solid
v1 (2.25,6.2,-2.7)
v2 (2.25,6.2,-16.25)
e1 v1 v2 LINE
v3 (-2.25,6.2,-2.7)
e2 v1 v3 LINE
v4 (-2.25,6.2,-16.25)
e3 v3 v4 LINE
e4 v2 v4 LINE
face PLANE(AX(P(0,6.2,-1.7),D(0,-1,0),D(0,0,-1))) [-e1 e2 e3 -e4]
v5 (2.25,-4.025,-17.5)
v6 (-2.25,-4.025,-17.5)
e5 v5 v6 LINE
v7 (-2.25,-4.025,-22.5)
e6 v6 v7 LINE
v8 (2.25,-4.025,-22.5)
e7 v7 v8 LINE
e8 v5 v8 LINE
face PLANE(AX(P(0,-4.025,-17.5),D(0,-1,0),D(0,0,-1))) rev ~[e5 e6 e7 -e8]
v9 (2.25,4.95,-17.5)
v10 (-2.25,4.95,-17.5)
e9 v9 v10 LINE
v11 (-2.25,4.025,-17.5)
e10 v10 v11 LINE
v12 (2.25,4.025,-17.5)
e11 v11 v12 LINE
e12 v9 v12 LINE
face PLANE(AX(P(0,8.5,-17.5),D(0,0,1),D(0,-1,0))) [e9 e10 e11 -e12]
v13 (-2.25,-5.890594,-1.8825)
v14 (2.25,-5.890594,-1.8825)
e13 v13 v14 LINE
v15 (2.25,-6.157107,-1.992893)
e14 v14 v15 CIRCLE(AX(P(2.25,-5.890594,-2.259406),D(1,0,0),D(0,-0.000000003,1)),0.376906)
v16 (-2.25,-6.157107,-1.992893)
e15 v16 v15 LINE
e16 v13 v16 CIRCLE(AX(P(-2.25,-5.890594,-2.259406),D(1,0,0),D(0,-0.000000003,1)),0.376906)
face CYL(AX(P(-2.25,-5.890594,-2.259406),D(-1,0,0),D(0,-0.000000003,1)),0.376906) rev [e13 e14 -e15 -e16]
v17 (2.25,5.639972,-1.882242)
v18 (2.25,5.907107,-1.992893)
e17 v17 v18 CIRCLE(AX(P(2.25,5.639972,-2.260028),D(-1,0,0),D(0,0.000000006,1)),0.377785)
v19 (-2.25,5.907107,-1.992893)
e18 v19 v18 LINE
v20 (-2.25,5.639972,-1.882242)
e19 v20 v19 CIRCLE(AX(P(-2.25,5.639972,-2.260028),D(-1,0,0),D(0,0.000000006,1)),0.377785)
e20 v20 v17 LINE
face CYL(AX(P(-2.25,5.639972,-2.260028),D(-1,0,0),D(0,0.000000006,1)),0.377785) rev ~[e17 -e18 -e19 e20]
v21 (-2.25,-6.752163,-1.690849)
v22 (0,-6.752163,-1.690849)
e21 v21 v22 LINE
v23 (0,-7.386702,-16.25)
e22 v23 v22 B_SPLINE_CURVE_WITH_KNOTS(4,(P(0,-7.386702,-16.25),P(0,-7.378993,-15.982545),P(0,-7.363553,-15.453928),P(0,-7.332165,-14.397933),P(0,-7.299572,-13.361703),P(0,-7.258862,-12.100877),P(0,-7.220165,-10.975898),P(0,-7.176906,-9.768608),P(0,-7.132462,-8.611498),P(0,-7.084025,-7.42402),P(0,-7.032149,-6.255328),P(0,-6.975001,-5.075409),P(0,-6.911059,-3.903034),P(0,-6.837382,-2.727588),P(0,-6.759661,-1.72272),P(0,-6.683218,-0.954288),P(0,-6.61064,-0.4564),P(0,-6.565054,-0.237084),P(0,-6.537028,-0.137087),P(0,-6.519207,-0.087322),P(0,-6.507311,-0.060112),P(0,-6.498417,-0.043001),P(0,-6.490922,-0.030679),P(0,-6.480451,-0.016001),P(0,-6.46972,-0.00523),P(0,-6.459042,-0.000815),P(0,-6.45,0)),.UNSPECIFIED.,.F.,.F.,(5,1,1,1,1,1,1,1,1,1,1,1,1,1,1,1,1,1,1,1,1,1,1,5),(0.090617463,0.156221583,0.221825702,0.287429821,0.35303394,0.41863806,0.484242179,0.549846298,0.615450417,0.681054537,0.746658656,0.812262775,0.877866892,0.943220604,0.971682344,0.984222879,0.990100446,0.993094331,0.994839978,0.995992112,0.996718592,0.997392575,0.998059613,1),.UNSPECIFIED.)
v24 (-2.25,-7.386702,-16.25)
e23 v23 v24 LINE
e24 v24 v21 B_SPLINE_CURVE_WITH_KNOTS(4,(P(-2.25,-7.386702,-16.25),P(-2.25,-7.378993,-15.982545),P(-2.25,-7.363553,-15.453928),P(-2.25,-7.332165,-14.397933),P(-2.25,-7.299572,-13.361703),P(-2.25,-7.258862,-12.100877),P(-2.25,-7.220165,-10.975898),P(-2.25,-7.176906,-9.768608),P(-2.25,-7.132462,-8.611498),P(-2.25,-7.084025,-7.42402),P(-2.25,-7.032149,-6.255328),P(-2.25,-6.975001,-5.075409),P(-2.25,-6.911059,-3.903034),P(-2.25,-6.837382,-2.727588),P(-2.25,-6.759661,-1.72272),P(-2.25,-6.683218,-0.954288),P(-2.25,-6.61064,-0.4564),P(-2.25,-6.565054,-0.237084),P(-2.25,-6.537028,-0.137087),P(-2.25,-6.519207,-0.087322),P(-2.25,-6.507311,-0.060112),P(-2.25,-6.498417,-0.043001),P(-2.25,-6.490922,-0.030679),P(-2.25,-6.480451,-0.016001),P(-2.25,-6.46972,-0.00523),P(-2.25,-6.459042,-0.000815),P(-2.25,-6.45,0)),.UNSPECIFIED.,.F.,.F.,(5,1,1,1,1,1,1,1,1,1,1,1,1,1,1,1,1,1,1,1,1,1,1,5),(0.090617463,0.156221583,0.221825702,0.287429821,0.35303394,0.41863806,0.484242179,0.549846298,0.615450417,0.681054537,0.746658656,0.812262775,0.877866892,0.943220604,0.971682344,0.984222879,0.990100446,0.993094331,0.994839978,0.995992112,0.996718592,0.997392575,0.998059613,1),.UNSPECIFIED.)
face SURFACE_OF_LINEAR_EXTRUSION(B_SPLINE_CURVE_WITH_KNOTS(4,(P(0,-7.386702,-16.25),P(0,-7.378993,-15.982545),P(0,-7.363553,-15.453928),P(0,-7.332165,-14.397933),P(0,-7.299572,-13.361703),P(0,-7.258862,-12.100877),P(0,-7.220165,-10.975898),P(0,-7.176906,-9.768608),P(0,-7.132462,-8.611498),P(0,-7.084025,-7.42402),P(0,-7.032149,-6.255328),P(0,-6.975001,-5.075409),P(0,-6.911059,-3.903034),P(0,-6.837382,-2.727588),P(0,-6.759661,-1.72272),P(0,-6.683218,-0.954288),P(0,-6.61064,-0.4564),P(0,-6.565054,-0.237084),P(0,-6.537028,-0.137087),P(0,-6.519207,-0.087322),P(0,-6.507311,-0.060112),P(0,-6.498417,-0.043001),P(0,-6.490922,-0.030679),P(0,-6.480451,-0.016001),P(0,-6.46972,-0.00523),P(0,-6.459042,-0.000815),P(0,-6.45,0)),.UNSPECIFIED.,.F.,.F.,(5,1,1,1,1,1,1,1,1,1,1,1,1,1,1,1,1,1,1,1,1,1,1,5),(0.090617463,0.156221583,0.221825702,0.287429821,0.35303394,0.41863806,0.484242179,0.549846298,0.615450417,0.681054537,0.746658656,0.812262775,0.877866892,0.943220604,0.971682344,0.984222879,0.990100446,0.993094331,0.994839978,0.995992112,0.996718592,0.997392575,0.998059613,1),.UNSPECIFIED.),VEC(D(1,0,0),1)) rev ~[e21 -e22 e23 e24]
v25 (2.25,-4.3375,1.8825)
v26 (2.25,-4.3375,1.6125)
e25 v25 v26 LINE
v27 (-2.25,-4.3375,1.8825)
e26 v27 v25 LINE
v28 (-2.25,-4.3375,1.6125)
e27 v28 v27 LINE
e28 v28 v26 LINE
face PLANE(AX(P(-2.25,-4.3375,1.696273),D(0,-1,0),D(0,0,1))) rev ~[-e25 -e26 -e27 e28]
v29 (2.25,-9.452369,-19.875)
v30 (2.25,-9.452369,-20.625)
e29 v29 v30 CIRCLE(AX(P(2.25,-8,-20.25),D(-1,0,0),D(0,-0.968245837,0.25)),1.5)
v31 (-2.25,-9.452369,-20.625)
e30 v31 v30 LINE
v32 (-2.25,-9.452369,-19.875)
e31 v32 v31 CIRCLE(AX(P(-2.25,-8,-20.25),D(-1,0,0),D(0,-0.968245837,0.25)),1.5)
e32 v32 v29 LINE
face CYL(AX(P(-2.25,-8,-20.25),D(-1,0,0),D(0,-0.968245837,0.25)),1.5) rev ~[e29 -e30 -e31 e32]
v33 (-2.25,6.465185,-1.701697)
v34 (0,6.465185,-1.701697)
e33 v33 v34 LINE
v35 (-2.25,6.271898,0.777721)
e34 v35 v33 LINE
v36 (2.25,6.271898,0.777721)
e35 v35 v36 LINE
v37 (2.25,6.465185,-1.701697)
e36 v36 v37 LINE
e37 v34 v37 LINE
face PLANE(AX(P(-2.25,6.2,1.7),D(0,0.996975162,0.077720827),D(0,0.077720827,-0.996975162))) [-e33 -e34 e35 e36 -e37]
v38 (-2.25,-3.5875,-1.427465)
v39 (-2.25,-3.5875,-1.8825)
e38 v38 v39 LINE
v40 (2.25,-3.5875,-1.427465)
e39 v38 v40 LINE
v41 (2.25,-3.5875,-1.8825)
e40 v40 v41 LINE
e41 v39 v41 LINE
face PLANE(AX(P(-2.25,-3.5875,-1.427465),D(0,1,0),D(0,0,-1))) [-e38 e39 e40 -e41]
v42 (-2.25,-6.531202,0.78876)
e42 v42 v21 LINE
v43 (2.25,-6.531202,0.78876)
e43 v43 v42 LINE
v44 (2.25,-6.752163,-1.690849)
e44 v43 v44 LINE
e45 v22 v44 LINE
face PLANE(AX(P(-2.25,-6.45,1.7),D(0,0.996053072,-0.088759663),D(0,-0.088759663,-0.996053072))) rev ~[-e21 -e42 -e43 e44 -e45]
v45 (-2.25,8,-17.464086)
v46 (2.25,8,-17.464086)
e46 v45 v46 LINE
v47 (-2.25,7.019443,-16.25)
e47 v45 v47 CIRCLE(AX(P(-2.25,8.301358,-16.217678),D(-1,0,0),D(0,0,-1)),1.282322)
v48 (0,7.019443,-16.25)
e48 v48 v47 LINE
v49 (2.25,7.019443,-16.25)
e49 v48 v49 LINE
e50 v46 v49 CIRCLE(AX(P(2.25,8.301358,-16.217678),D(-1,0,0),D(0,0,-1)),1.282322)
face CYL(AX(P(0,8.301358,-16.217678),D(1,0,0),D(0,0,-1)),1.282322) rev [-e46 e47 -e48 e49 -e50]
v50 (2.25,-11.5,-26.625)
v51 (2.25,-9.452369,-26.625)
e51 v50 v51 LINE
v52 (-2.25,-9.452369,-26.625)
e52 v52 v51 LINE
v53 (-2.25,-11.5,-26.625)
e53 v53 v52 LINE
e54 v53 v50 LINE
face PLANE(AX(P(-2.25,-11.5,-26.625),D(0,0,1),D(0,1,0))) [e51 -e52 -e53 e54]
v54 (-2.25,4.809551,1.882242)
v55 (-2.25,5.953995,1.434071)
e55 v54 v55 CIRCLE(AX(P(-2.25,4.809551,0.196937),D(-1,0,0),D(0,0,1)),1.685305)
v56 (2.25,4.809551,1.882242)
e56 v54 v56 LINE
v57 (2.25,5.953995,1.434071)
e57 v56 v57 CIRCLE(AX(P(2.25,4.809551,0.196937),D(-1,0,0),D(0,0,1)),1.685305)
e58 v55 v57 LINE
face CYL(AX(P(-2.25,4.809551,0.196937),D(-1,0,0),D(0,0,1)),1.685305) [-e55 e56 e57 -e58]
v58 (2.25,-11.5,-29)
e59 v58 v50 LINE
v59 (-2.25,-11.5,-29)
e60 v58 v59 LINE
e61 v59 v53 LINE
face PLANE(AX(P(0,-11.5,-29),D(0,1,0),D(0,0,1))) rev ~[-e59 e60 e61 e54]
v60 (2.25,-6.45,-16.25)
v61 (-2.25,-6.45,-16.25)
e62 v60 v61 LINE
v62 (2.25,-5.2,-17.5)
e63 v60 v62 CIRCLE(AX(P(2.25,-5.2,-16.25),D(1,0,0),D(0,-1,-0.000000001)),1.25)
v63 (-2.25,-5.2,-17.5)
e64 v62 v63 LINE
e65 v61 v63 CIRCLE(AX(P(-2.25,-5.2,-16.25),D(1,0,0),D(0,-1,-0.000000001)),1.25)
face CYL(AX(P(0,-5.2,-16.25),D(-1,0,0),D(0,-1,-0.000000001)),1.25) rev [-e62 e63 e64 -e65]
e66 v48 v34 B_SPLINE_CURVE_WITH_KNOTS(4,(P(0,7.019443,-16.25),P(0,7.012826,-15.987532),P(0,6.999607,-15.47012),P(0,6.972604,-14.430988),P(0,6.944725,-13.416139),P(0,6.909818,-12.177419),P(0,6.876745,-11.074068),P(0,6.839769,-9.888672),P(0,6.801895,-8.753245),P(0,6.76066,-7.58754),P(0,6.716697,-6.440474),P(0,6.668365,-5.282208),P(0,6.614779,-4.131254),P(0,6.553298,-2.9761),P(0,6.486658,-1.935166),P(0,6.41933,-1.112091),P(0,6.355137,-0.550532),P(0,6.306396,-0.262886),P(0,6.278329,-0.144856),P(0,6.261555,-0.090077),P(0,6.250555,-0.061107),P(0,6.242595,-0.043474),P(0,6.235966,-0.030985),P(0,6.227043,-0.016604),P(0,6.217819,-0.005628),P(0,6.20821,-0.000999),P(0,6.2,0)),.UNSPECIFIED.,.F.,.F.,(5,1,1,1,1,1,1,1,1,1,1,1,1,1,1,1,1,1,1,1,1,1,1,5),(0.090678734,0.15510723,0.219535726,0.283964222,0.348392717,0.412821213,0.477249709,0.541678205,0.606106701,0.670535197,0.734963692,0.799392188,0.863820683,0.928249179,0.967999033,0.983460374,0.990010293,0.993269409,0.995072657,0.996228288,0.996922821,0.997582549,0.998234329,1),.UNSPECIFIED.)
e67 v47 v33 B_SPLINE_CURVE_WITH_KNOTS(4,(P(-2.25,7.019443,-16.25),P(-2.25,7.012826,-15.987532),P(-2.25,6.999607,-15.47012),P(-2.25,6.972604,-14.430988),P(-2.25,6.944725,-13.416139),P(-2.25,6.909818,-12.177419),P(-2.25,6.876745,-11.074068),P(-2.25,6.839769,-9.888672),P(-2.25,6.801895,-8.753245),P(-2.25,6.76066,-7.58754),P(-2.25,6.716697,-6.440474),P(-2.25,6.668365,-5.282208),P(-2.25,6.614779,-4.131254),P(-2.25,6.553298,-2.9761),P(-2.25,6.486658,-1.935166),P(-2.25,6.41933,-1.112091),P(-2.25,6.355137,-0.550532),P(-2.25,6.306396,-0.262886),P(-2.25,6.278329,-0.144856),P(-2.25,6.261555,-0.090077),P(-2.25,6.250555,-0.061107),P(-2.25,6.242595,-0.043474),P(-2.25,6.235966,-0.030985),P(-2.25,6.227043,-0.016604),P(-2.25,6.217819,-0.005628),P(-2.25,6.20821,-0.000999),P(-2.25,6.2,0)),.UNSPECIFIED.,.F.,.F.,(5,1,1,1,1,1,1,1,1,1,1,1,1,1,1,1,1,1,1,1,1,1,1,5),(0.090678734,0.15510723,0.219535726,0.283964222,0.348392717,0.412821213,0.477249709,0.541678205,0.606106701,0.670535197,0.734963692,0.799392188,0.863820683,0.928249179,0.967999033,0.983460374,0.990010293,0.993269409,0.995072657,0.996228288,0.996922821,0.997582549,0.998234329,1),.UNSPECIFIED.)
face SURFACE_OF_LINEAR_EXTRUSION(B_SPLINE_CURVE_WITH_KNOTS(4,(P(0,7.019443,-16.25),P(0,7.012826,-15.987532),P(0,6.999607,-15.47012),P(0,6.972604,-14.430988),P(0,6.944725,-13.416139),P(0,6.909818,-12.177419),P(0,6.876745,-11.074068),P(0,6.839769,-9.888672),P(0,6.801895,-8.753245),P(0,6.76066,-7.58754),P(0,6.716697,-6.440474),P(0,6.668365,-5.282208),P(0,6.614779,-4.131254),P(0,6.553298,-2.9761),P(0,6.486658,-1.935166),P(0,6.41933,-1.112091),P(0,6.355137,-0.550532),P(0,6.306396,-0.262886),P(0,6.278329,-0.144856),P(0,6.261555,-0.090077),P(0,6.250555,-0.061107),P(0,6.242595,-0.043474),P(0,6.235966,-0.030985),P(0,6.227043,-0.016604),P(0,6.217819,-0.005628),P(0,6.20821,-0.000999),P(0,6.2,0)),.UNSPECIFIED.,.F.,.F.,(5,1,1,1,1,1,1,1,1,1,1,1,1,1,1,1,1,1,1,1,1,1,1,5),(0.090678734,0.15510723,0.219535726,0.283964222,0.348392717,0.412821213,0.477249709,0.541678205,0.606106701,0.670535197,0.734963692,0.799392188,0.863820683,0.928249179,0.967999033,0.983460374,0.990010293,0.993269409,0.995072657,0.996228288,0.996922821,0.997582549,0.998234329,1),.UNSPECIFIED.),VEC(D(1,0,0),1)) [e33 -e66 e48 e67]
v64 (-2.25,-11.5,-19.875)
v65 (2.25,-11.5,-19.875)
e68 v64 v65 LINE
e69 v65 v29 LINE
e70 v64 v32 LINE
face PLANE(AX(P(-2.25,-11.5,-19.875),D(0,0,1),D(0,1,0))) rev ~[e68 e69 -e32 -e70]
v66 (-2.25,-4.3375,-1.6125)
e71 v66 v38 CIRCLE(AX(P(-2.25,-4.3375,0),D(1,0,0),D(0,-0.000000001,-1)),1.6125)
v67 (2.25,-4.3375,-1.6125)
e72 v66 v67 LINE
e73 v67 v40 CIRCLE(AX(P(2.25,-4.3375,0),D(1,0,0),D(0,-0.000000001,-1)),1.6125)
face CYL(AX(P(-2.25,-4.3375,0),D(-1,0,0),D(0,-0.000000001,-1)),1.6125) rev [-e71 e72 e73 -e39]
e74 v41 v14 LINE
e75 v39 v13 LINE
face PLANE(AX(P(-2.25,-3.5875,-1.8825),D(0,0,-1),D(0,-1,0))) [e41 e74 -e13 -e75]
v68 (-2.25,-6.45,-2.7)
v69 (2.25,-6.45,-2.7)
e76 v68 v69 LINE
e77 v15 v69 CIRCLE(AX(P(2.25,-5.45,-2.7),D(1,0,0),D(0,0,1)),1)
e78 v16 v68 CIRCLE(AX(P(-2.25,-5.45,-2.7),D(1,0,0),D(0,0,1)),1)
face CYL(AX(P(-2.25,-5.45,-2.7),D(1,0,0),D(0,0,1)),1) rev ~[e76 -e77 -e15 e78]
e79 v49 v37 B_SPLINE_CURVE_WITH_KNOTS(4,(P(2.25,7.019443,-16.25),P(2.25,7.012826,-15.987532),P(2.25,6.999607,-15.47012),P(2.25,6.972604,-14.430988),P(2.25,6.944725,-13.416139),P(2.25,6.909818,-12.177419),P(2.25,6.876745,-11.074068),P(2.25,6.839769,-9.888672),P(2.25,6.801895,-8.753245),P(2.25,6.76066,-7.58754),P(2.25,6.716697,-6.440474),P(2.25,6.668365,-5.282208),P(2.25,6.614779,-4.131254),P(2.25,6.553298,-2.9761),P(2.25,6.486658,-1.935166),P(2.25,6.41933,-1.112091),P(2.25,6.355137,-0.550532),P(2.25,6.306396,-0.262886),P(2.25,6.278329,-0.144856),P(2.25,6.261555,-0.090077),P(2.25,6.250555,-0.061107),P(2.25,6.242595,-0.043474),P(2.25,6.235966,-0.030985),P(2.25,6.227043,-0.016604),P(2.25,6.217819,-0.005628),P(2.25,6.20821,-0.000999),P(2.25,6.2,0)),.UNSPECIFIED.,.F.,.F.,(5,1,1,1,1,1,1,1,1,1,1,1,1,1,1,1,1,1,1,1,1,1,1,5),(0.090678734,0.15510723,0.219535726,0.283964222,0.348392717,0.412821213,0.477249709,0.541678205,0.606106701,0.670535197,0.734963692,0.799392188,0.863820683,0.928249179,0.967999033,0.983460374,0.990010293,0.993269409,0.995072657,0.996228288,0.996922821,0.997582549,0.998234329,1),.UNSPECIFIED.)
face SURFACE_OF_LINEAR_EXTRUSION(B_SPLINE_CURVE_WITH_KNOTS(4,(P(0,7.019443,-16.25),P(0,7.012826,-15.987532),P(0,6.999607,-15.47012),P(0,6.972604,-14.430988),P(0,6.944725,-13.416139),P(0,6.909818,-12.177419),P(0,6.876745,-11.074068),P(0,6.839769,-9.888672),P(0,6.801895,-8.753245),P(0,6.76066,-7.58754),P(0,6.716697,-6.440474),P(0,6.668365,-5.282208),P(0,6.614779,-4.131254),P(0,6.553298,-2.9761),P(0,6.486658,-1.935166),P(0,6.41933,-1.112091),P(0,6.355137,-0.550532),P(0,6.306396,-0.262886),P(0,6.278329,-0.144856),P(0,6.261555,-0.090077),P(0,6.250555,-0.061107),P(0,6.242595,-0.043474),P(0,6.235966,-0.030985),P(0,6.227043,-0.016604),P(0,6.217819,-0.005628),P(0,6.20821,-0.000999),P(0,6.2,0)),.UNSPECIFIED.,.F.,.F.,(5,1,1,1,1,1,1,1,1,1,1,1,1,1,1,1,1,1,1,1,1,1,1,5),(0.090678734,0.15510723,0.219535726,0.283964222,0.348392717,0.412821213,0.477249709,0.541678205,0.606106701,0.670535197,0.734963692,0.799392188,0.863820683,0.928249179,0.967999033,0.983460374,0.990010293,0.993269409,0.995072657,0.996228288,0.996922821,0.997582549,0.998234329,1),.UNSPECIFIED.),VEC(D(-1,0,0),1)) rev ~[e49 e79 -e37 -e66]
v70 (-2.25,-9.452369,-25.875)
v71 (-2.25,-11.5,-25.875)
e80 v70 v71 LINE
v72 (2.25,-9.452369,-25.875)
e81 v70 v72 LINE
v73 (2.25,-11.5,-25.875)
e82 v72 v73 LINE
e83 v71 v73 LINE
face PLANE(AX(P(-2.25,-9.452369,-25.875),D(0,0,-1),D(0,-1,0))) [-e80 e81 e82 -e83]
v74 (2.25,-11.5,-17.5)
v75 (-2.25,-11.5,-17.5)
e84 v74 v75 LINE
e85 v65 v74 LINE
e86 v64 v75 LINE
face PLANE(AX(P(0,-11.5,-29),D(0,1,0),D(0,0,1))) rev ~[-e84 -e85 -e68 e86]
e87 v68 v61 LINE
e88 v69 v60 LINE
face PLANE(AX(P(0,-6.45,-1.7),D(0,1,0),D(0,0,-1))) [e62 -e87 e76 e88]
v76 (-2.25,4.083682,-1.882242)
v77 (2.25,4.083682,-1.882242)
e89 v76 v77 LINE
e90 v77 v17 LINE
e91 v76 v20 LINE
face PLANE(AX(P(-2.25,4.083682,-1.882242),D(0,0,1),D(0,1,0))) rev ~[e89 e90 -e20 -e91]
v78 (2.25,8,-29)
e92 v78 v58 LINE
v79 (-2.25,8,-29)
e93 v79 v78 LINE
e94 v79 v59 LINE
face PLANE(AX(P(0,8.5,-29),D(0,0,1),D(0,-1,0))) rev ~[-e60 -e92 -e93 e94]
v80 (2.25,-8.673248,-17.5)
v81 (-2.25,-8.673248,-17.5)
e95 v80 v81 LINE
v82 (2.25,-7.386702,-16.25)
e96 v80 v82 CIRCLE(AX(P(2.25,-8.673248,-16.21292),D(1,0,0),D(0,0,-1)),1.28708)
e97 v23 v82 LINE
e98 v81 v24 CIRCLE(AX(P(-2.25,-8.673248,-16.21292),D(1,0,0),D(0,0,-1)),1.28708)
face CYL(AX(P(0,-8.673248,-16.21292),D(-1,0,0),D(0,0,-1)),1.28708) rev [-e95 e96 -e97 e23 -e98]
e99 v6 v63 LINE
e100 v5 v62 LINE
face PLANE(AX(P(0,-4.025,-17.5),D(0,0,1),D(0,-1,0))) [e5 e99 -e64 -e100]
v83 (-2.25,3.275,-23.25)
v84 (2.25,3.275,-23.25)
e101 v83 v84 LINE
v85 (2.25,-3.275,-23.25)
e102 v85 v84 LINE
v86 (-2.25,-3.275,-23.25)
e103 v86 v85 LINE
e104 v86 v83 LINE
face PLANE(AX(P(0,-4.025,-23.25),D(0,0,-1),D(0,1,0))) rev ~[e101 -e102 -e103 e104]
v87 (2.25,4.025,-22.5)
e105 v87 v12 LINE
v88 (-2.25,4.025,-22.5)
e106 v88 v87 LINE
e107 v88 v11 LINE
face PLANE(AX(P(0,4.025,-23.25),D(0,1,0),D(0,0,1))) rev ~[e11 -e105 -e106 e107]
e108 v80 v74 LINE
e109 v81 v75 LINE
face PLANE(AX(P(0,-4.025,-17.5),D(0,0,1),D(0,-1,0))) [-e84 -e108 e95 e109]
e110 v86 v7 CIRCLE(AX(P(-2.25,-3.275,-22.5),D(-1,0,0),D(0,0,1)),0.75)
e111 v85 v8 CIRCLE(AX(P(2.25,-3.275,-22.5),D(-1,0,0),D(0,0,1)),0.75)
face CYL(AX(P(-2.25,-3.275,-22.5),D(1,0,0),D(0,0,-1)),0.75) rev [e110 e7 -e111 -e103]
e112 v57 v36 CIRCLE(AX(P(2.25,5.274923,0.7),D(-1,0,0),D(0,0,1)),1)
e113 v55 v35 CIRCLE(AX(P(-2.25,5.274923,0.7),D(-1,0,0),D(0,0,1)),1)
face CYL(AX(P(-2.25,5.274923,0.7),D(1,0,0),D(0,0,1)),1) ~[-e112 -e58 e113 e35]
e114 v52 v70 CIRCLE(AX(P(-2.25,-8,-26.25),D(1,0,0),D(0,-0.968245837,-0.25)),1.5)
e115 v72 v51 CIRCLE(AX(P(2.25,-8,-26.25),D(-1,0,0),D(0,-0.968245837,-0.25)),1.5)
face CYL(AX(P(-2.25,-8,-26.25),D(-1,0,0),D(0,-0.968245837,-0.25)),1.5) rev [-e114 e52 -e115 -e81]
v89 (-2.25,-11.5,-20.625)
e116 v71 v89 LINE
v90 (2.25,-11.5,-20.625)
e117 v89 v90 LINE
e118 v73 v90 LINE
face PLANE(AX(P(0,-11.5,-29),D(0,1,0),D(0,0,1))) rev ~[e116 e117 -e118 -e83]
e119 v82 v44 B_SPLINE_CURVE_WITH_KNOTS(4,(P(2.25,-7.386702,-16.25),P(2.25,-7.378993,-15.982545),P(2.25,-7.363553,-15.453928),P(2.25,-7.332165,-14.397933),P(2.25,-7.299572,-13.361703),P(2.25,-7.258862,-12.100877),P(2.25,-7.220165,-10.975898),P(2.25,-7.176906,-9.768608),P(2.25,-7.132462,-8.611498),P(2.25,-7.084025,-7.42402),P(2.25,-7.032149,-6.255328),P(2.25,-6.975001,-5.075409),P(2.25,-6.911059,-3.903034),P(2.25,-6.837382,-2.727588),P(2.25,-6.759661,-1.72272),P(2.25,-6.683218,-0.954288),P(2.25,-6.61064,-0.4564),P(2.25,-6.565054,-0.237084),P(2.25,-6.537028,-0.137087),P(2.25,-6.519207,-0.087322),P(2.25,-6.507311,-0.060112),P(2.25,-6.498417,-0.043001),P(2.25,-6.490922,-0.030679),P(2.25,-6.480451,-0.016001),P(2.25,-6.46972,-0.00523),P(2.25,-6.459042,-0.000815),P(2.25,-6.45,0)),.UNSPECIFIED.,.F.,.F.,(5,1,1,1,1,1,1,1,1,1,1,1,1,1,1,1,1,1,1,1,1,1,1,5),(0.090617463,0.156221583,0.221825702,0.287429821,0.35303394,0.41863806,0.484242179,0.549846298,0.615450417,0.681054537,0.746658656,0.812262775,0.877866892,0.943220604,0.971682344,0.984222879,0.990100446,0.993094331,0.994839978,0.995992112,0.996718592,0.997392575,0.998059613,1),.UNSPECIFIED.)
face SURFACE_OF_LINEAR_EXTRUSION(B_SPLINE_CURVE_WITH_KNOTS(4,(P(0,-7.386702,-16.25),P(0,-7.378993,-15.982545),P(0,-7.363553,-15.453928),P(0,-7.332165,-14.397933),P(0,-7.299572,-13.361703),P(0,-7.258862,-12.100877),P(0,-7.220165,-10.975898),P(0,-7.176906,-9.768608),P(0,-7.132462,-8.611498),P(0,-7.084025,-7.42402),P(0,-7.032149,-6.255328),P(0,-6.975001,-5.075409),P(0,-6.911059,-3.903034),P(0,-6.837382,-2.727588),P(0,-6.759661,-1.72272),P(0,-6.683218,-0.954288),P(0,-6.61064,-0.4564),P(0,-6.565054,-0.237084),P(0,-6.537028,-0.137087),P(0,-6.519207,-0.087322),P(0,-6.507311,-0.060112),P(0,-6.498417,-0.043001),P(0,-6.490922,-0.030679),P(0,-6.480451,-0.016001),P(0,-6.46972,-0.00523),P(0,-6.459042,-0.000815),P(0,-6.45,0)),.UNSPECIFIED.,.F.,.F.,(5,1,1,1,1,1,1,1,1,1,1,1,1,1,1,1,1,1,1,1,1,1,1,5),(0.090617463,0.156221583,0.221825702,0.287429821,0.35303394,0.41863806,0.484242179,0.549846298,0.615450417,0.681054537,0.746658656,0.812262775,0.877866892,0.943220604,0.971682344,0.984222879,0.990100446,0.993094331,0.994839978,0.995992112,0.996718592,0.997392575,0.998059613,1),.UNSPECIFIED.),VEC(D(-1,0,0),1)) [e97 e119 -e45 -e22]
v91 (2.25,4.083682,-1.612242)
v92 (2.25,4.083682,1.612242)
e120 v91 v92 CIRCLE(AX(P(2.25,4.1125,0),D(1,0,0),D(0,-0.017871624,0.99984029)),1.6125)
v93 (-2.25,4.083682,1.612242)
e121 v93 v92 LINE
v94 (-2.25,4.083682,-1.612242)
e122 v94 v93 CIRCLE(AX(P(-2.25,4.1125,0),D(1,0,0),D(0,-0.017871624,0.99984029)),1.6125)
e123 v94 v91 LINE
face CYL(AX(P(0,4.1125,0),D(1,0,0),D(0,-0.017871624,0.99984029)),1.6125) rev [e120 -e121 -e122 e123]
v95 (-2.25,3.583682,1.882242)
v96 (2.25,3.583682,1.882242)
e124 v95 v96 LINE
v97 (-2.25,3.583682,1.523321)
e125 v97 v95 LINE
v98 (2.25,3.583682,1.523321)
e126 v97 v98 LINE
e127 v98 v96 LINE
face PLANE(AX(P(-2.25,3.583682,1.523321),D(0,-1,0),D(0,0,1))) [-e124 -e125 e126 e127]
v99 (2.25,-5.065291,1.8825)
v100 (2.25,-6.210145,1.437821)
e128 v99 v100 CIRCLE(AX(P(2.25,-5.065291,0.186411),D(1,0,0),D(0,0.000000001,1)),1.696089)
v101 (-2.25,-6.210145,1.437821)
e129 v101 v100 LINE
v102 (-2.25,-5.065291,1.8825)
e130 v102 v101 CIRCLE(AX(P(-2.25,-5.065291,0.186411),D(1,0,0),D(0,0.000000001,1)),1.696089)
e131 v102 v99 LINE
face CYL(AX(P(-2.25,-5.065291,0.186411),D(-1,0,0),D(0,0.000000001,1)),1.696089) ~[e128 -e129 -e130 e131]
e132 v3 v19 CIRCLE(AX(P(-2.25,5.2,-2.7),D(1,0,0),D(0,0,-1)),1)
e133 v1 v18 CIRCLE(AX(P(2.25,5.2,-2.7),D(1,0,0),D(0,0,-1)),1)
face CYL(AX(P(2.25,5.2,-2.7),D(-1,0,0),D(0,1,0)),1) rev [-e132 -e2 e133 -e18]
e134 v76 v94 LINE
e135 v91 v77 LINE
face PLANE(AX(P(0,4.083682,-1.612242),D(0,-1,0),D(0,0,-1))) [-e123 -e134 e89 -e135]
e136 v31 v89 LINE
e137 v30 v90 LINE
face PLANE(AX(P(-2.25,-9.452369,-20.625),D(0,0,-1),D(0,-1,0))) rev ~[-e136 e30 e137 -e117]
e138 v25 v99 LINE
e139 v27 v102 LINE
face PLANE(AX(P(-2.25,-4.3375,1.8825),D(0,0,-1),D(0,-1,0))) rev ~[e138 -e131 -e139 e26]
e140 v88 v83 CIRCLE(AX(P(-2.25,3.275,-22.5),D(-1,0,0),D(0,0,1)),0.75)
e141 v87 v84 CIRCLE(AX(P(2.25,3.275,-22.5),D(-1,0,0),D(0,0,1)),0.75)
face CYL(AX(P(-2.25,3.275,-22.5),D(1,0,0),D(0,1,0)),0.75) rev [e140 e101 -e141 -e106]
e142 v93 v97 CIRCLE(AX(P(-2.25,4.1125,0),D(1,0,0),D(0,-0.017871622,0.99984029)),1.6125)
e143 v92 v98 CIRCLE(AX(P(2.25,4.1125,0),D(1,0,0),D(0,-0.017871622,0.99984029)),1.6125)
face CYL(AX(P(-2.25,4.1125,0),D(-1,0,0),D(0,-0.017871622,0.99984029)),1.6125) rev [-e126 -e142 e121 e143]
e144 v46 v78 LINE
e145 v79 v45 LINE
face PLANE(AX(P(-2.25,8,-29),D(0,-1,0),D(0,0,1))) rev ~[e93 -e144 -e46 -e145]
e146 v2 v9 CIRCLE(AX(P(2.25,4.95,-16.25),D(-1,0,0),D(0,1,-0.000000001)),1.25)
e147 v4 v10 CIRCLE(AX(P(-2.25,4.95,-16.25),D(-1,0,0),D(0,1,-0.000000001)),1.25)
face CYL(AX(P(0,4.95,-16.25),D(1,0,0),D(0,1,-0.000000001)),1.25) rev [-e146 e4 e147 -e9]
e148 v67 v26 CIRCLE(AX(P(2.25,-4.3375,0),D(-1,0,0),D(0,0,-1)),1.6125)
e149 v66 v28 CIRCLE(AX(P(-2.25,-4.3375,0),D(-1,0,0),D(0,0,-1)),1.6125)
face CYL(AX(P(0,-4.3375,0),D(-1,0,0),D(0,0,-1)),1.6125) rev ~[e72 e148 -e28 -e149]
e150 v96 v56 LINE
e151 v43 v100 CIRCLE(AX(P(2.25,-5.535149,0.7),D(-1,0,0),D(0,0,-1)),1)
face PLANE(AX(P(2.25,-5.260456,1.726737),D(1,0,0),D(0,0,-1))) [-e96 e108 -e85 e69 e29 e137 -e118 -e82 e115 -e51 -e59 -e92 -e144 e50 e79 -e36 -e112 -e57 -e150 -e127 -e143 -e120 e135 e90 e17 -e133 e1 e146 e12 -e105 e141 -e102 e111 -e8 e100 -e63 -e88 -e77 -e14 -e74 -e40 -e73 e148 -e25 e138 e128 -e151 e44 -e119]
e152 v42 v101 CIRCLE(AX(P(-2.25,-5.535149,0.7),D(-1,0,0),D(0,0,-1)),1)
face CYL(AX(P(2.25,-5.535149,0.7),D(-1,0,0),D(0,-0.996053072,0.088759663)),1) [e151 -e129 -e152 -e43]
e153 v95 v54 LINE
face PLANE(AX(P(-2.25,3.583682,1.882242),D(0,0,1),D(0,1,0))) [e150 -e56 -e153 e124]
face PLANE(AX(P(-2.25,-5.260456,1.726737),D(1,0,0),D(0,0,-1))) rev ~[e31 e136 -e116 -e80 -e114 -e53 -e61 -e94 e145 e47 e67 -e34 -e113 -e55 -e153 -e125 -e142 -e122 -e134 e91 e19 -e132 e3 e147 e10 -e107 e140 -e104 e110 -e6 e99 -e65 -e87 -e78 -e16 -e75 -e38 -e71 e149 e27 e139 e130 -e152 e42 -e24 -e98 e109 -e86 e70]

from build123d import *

# Parameters (mm, degrees)
BOSS_EXTRUDE1_DEPTH = 2.25
CUT_EXTRUDE1_DEPTH  = 32.519835025
FILLET1_R           = 0.75
BOSS_EXTRUDE2_DEPTH = 2.25
BOSS_EXTRUDE4_DEPTH = 4.5
FILLET2_R           = 1
CUT_EXTRUDE4_DEPTH  = 5
BOSS_EXTRUDE5_START = -2.25
BOSS_EXTRUDE5_DEPTH = 4.5
SKETCH12_W          = 11.535913892
SKETCH12_H          = 0.5
CUT_EXTRUDE5_DEPTH  = 32.519835168


with BuildPart() as part:
    # Sketch1 → Boss-Extrude1 (new, symmetric)
    with BuildSketch(Plane(origin=(0, 0, 0), x_dir=(0, 0, -1), z_dir=(1, 0, 0))):
        Polygon((17.5, 4.025), (17.5, 4.95), (17.5, 8.301357795), (17.5, 8.5), (29, 8.5), (29, -11.5), (17.5, -11.5), (17.5, -8.673247977), (17.5, -5.2), (17.5, -4.025), (23.25, -4.025), (23.25, 4.025), align=None)
    extrude(amount=BOSS_EXTRUDE1_DEPTH, both=True)

    # Sketch4 → Cut-Extrude1 (cut, through all)
    with BuildSketch(Plane.ZY.offset(2.25)):
        with BuildLine():
            Line((-26.625, -11.5), (-26.625, -9.452368755))
            ThreePointArc((-26.625, -9.452368755), (-26.25, -6.5), (-25.875, -9.452368755))
            Line((-25.875, -9.452368755), (-25.875, -11.5))
            Line((-25.875, -11.5), (-26.625, -11.5))
        make_face()
        with BuildLine():
            Line((-20.625, -9.452368755), (-20.625, -11.5))
            Line((-20.625, -11.5), (-19.875, -11.5))
            Line((-19.875, -11.5), (-19.875, -9.452368755))
            ThreePointArc((-19.875, -9.452368755), (-20.25, -6.5), (-20.625, -9.452368755))
        make_face()
    extrude(amount=-CUT_EXTRUDE1_DEPTH, mode=Mode.SUBTRACT)

    # Fillet1
    fillet1_edges = [part.edges().sort_by_distance(p)[0] for p in [
        (0, -4.025, -23.25),
        (0, 4.025, -23.25),
    ]]
    fillet(fillet1_edges, radius=FILLET1_R)

    # Sketch2 → Boss-Extrude2 (add, symmetric)
    with BuildSketch(Plane(origin=(0, 0, 0), x_dir=(0, 0, -1), z_dir=(1, 0, 0))):
        with BuildLine():
            Line((1.7, -6.45), (16.25, -6.45))
            ThreePointArc((16.25, -6.45), (17.133883476, -6.083883476), (17.5, -5.2))
            Line((17.5, -5.2), (17.5, -8.673247977))
            ThreePointArc((17.5, -8.673247977), (17.136039688, -7.776350438), (16.25, -7.38670191))
            add(Edge.make_bspline(
                [(16.25, -7.38670191), (15.982544989, -7.378993429), (15.453928293, -7.363553213), (14.397933299, -7.332164796), (13.361703255, -7.29957206), (12.100876768, -7.258861503), (10.975898138, -7.220164867), (9.768608213, -7.176905715), (8.611498431, -7.132461764), (7.424019565, -7.084024767), (6.255327605, -7.032148986), (5.075409432, -6.975000615), (3.903033551, -6.911058587), (2.727587922, -6.837381628), (1.722719604, -6.759660724), (0.954287884, -6.683217964), (0.456400256, -6.610639739), (0.237084283, -6.56505431), (0.137087499, -6.537027737), (0.087321771, -6.519206998), (0.060111975, -6.507310883), (0.043000809, -6.498417374), (0.030678751, -6.490921905), (0.01600081, -6.480451435), (0.005229873, -6.469720378), (0.000815287, -6.459042222), (0, -6.45)],
                knots=[0.090617463, 0.090617463, 0.090617463, 0.090617463, 0.090617463, 0.156221583, 0.221825702, 0.287429821, 0.35303394, 0.41863806, 0.484242179, 0.549846298, 0.615450417, 0.681054537, 0.746658656, 0.812262775, 0.877866892, 0.943220604, 0.971682344, 0.984222879, 0.990100446, 0.993094331, 0.994839978, 0.995992112, 0.996718592, 0.997392575, 0.998059613, 1, 1, 1, 1, 1], degree=4))
            Line((0, -6.45), (-1.7, -6.45))
            Line((-1.7, -6.45), (-1.7, -4.45))
            ThreePointArc((-1.7, -4.45), (0, -2.75), (1.7, -4.45))
            Line((1.7, -4.45), (1.7, -6.45))
        make_face()
        with BuildLine():
            Line((17.5, 4.95), (17.5, 8.301357795))
            ThreePointArc((17.5, 8.301357795), (17.135773003, 7.406119792), (16.25, 7.019443472))
            add(Edge.make_bspline(
                [(16.25, 7.019443472), (15.987531738, 7.01282569), (15.470119802, 6.999607493), (14.430987801, 6.972604073), (13.4161389, 6.944724509), (12.177418763, 6.909818433), (11.074067802, 6.876745116), (9.888671574, 6.839769393), (8.753245319, 6.801895235), (7.587539532, 6.760659557), (6.440473735, 6.716696676), (5.282208442, 6.668364938), (4.131254265, 6.614778963), (2.976099529, 6.553298089), (1.935166314, 6.486657721), (1.112090632, 6.419330464), (0.550531612, 6.355136747), (0.26288649, 6.306396396), (0.144856484, 6.278329018), (0.090076692, 6.261554801), (0.061106748, 6.250555216), (0.043474041, 6.242594857), (0.030984848, 6.235965644), (0.016604026, 6.227042793), (0.005627844, 6.21781856), (0.000998515, 6.208209958), (0, 6.2)],
                knots=[0.090678734, 0.090678734, 0.090678734, 0.090678734, 0.090678734, 0.15510723, 0.219535726, 0.283964222, 0.348392717, 0.412821213, 0.477249709, 0.541678205, 0.606106701, 0.670535197, 0.734963692, 0.799392188, 0.863820683, 0.928249179, 0.967999033, 0.983460374, 0.990010293, 0.993269409, 0.995072657, 0.996228288, 0.996922821, 0.997582549, 0.998234329, 1, 1, 1, 1, 1], degree=4))
            Line((0, 6.2), (-1.7, 6.2))
            Line((-1.7, 6.2), (-1.7, 4.2))
            ThreePointArc((-1.7, 4.2), (0, 2.5), (1.7, 4.2))
            Line((1.7, 4.2), (1.7, 6.2))
            Line((1.7, 6.2), (16.25, 6.2))
            ThreePointArc((16.25, 6.2), (17.133883476, 5.833883476), (17.5, 4.95))
        make_face()
    extrude(amount=BOSS_EXTRUDE2_DEPTH, both=True)

    # Sketch3 → Boss-Extrude4 (add, through all)
    with BuildSketch(Plane.ZY.offset(2.25)):
        with BuildLine():
            Line((1.7, -6.45), (-1.690848844, -6.752163217))
            add(Edge.make_bspline(
                [(0, -6.45), (-0.000815287, -6.459042222), (-0.005229873, -6.469720378), (-0.01600081, -6.480451435), (-0.030678751, -6.490921905), (-0.043000809, -6.498417374), (-0.060111975, -6.507310883), (-0.087321771, -6.519206998), (-0.137087499, -6.537027737), (-0.237084283, -6.56505431), (-0.456400256, -6.610639739), (-0.842629924, -6.666941327), (-1.204799072, -6.706915262), (-1.511345405, -6.736167418), (-1.690848844, -6.752163217)],
                knots=[0.090617463, 0.090617463, 0.090617463, 0.090617463, 0.090617463, 0.09255785, 0.093224888, 0.093898872, 0.094625351, 0.095777486, 0.097523132, 0.100517018, 0.106394584, 0.118935119, 0.14739686, 0.187580696, 0.187580696, 0.187580696, 0.187580696, 0.187580696], degree=4))
            Line((0, -6.45), (1.7, -6.45))
        make_face()
        with BuildLine():
            Line((0, 6.2), (1.7, 6.2))
            Line((1.7, 6.2), (-1.70169721, 6.465184862))
            add(Edge.make_bspline(
                [(-1.70169721, 6.465184862), (-1.588493346, 6.45635987), (-1.29771245, 6.43266583), (-0.938114175, 6.399442625), (-0.550531612, 6.355136747), (-0.26288649, 6.306396396), (-0.144856484, 6.278329018), (-0.090076692, 6.261554801), (-0.061106748, 6.250555216), (-0.043474041, 6.242594857), (-0.030984848, 6.235965644), (-0.016604026, 6.227042793), (-0.005627844, 6.21781856), (-0.000998515, 6.208209958), (0, 6.2)],
                knots=[0.902915454, 0.902915454, 0.902915454, 0.902915454, 0.902915454, 0.928249179, 0.967999033, 0.983460374, 0.990010293, 0.993269409, 0.995072657, 0.996228288, 0.996922821, 0.997582549, 0.998234329, 1, 1, 1, 1, 1], degree=4))
        make_face()
    extrude(amount=-BOSS_EXTRUDE4_DEPTH)

    # Fillet2
    fillet2_edges = [part.edges().sort_by_distance(p)[0] for p in [
        (0, -6.45, -1.7),
        (0, -6.45, 1.7),
        (0, 6.2, 1.7),
        (0, 6.2, -1.7),
    ]]
    fillet(fillet2_edges, radius=FILLET2_R)

    # Sketch6 → Cut-Extrude4 (cut, symmetric)
    with BuildSketch(Plane(origin=(0, 0, 0), x_dir=(0, 0, -1), z_dir=(1, 0, 0))):
        with BuildLine():
            Line((-1.6125, -4.3375), (-1.696273489, -4.3375))
            Line((-1.696273489, -4.3375), (-1.696273489, -2.65))
            Line((-1.696273489, -2.65), (1.696273489, -2.65))
            Line((1.696273489, -2.65), (1.696273489, -4.3375))
            Line((1.696273489, -4.3375), (1.6125, -4.3375))
            ThreePointArc((1.6125, -4.3375), (0, -5.95), (-1.6125, -4.3375))
        make_face()
        with BuildLine():
            Line((1.612242467, 4.083682007), (1.696015956, 4.083682007))
            Line((1.696015956, 4.083682007), (1.696015956, 2.396182007))
            Line((1.696015956, 2.396182007), (-1.696015956, 2.396182007))
            Line((-1.696015956, 2.396182007), (-1.696015956, 4.083682007))
            Line((-1.696015956, 4.083682007), (-1.612242467, 4.083682007))
            ThreePointArc((-1.612242467, 4.083682007), (0, 5.725), (1.612242467, 4.083682007))
        make_face()
    extrude(amount=CUT_EXTRUDE4_DEPTH, both=True, mode=Mode.SUBTRACT)

    # Sketch9 → Boss-Extrude5 (add)
    with BuildSketch(Plane(origin=(0, 0, 0), x_dir=(0, 0, -1), z_dir=(1, 0, 0)).offset(BOSS_EXTRUDE5_START)):
        with BuildLine():
            Line((-1.696273489, -4.3375), (-1.8825, -4.3375))
            Line((-1.8825, -4.3375), (-1.8825, -5.065291012))
            ThreePointArc((-1.8825, -5.065291012), (-1.767426598, -5.679381925), (-1.437821002, -6.210145232))
            ThreePointArc((-1.437821002, -6.210145232), (-1.63215369, -5.89721165), (-1.7, -5.535148811))
            Line((-1.7, -5.535148811), (-1.7, -4.45))
            ThreePointArc((-1.7, -4.45), (-1.699068117, -4.393719149), (-1.696273489, -4.3375))
        make_face()
        with BuildLine():
            Line((1.8825, -4.3375), (1.8825, -5.890593975))
            ThreePointArc((1.8825, -5.890593975), (1.911190263, -6.034829666), (1.992893219, -6.157106781))
            ThreePointArc((1.992893219, -6.157106781), (1.776120467, -5.832683432), (1.7, -5.45))
            Line((1.7, -5.45), (1.7, -4.45))
            ThreePointArc((1.7, -4.45), (1.699068117, -4.393719149), (1.696273489, -4.3375))
            Line((1.696273489, -4.3375), (1.6125, -4.3375))
            ThreePointArc((1.6125, -4.3375), (1.565557971, -3.951255919), (1.427464973, -3.5875))
            Line((1.427464973, -3.5875), (1.8825, -3.5875))
            Line((1.8825, -3.5875), (1.8825, -4.3375))
        make_face()
        with BuildLine():
            Line((1.696015956, 4.083682007), (1.882242467, 4.083682007))
            Line((1.882242467, 4.083682007), (1.882242467, 5.639972236))
            ThreePointArc((1.882242467, 5.639972236), (1.910999661, 5.78454441), (1.992893219, 5.907106781))
            ThreePointArc((1.992893219, 5.907106781), (1.776120467, 5.582683432), (1.7, 5.2))
            Line((1.7, 5.2), (1.7, 4.2))
            ThreePointArc((1.7, 4.2), (1.699003697, 4.141806899), (1.696015956, 4.083682007))
        make_face()
        with BuildLine():
            Line((-1.882242467, 4.083682007), (-1.882242467, 4.809550575))
            ThreePointArc((-1.882242467, 4.809550575), (-1.766204889, 5.424085171), (-1.434071123, 5.95399521))
            ThreePointArc((-1.434071123, 5.95399521), (-1.631147443, 5.639565509), (-1.7, 5.274922618))
            Line((-1.7, 5.274922618), (-1.7, 4.2))
            ThreePointArc((-1.7, 4.2), (-1.699003697, 4.141806899), (-1.696015956, 4.083682007))
            Line((-1.696015956, 4.083682007), (-1.612242467, 4.083682007))
            ThreePointArc((-1.612242467, 4.083682007), (-1.587589378, 3.830159396), (-1.523321299, 3.583682007))
            Line((-1.523321299, 3.583682007), (-1.882242467, 3.583682007))
            Line((-1.882242467, 3.583682007), (-1.882242467, 4.083682007))
        make_face()
    extrude(amount=BOSS_EXTRUDE5_DEPTH)

    # Sketch12 → Cut-Extrude5 (cut, through all)
    with BuildSketch(Plane.ZY.offset(2.25)):
        with Locations((-23.232043054, 8.25)):
            Rectangle(SKETCH12_W, SKETCH12_H)
    extrude(amount=-CUT_EXTRUDE5_DEPTH, mode=Mode.SUBTRACT)


solid = part.part
